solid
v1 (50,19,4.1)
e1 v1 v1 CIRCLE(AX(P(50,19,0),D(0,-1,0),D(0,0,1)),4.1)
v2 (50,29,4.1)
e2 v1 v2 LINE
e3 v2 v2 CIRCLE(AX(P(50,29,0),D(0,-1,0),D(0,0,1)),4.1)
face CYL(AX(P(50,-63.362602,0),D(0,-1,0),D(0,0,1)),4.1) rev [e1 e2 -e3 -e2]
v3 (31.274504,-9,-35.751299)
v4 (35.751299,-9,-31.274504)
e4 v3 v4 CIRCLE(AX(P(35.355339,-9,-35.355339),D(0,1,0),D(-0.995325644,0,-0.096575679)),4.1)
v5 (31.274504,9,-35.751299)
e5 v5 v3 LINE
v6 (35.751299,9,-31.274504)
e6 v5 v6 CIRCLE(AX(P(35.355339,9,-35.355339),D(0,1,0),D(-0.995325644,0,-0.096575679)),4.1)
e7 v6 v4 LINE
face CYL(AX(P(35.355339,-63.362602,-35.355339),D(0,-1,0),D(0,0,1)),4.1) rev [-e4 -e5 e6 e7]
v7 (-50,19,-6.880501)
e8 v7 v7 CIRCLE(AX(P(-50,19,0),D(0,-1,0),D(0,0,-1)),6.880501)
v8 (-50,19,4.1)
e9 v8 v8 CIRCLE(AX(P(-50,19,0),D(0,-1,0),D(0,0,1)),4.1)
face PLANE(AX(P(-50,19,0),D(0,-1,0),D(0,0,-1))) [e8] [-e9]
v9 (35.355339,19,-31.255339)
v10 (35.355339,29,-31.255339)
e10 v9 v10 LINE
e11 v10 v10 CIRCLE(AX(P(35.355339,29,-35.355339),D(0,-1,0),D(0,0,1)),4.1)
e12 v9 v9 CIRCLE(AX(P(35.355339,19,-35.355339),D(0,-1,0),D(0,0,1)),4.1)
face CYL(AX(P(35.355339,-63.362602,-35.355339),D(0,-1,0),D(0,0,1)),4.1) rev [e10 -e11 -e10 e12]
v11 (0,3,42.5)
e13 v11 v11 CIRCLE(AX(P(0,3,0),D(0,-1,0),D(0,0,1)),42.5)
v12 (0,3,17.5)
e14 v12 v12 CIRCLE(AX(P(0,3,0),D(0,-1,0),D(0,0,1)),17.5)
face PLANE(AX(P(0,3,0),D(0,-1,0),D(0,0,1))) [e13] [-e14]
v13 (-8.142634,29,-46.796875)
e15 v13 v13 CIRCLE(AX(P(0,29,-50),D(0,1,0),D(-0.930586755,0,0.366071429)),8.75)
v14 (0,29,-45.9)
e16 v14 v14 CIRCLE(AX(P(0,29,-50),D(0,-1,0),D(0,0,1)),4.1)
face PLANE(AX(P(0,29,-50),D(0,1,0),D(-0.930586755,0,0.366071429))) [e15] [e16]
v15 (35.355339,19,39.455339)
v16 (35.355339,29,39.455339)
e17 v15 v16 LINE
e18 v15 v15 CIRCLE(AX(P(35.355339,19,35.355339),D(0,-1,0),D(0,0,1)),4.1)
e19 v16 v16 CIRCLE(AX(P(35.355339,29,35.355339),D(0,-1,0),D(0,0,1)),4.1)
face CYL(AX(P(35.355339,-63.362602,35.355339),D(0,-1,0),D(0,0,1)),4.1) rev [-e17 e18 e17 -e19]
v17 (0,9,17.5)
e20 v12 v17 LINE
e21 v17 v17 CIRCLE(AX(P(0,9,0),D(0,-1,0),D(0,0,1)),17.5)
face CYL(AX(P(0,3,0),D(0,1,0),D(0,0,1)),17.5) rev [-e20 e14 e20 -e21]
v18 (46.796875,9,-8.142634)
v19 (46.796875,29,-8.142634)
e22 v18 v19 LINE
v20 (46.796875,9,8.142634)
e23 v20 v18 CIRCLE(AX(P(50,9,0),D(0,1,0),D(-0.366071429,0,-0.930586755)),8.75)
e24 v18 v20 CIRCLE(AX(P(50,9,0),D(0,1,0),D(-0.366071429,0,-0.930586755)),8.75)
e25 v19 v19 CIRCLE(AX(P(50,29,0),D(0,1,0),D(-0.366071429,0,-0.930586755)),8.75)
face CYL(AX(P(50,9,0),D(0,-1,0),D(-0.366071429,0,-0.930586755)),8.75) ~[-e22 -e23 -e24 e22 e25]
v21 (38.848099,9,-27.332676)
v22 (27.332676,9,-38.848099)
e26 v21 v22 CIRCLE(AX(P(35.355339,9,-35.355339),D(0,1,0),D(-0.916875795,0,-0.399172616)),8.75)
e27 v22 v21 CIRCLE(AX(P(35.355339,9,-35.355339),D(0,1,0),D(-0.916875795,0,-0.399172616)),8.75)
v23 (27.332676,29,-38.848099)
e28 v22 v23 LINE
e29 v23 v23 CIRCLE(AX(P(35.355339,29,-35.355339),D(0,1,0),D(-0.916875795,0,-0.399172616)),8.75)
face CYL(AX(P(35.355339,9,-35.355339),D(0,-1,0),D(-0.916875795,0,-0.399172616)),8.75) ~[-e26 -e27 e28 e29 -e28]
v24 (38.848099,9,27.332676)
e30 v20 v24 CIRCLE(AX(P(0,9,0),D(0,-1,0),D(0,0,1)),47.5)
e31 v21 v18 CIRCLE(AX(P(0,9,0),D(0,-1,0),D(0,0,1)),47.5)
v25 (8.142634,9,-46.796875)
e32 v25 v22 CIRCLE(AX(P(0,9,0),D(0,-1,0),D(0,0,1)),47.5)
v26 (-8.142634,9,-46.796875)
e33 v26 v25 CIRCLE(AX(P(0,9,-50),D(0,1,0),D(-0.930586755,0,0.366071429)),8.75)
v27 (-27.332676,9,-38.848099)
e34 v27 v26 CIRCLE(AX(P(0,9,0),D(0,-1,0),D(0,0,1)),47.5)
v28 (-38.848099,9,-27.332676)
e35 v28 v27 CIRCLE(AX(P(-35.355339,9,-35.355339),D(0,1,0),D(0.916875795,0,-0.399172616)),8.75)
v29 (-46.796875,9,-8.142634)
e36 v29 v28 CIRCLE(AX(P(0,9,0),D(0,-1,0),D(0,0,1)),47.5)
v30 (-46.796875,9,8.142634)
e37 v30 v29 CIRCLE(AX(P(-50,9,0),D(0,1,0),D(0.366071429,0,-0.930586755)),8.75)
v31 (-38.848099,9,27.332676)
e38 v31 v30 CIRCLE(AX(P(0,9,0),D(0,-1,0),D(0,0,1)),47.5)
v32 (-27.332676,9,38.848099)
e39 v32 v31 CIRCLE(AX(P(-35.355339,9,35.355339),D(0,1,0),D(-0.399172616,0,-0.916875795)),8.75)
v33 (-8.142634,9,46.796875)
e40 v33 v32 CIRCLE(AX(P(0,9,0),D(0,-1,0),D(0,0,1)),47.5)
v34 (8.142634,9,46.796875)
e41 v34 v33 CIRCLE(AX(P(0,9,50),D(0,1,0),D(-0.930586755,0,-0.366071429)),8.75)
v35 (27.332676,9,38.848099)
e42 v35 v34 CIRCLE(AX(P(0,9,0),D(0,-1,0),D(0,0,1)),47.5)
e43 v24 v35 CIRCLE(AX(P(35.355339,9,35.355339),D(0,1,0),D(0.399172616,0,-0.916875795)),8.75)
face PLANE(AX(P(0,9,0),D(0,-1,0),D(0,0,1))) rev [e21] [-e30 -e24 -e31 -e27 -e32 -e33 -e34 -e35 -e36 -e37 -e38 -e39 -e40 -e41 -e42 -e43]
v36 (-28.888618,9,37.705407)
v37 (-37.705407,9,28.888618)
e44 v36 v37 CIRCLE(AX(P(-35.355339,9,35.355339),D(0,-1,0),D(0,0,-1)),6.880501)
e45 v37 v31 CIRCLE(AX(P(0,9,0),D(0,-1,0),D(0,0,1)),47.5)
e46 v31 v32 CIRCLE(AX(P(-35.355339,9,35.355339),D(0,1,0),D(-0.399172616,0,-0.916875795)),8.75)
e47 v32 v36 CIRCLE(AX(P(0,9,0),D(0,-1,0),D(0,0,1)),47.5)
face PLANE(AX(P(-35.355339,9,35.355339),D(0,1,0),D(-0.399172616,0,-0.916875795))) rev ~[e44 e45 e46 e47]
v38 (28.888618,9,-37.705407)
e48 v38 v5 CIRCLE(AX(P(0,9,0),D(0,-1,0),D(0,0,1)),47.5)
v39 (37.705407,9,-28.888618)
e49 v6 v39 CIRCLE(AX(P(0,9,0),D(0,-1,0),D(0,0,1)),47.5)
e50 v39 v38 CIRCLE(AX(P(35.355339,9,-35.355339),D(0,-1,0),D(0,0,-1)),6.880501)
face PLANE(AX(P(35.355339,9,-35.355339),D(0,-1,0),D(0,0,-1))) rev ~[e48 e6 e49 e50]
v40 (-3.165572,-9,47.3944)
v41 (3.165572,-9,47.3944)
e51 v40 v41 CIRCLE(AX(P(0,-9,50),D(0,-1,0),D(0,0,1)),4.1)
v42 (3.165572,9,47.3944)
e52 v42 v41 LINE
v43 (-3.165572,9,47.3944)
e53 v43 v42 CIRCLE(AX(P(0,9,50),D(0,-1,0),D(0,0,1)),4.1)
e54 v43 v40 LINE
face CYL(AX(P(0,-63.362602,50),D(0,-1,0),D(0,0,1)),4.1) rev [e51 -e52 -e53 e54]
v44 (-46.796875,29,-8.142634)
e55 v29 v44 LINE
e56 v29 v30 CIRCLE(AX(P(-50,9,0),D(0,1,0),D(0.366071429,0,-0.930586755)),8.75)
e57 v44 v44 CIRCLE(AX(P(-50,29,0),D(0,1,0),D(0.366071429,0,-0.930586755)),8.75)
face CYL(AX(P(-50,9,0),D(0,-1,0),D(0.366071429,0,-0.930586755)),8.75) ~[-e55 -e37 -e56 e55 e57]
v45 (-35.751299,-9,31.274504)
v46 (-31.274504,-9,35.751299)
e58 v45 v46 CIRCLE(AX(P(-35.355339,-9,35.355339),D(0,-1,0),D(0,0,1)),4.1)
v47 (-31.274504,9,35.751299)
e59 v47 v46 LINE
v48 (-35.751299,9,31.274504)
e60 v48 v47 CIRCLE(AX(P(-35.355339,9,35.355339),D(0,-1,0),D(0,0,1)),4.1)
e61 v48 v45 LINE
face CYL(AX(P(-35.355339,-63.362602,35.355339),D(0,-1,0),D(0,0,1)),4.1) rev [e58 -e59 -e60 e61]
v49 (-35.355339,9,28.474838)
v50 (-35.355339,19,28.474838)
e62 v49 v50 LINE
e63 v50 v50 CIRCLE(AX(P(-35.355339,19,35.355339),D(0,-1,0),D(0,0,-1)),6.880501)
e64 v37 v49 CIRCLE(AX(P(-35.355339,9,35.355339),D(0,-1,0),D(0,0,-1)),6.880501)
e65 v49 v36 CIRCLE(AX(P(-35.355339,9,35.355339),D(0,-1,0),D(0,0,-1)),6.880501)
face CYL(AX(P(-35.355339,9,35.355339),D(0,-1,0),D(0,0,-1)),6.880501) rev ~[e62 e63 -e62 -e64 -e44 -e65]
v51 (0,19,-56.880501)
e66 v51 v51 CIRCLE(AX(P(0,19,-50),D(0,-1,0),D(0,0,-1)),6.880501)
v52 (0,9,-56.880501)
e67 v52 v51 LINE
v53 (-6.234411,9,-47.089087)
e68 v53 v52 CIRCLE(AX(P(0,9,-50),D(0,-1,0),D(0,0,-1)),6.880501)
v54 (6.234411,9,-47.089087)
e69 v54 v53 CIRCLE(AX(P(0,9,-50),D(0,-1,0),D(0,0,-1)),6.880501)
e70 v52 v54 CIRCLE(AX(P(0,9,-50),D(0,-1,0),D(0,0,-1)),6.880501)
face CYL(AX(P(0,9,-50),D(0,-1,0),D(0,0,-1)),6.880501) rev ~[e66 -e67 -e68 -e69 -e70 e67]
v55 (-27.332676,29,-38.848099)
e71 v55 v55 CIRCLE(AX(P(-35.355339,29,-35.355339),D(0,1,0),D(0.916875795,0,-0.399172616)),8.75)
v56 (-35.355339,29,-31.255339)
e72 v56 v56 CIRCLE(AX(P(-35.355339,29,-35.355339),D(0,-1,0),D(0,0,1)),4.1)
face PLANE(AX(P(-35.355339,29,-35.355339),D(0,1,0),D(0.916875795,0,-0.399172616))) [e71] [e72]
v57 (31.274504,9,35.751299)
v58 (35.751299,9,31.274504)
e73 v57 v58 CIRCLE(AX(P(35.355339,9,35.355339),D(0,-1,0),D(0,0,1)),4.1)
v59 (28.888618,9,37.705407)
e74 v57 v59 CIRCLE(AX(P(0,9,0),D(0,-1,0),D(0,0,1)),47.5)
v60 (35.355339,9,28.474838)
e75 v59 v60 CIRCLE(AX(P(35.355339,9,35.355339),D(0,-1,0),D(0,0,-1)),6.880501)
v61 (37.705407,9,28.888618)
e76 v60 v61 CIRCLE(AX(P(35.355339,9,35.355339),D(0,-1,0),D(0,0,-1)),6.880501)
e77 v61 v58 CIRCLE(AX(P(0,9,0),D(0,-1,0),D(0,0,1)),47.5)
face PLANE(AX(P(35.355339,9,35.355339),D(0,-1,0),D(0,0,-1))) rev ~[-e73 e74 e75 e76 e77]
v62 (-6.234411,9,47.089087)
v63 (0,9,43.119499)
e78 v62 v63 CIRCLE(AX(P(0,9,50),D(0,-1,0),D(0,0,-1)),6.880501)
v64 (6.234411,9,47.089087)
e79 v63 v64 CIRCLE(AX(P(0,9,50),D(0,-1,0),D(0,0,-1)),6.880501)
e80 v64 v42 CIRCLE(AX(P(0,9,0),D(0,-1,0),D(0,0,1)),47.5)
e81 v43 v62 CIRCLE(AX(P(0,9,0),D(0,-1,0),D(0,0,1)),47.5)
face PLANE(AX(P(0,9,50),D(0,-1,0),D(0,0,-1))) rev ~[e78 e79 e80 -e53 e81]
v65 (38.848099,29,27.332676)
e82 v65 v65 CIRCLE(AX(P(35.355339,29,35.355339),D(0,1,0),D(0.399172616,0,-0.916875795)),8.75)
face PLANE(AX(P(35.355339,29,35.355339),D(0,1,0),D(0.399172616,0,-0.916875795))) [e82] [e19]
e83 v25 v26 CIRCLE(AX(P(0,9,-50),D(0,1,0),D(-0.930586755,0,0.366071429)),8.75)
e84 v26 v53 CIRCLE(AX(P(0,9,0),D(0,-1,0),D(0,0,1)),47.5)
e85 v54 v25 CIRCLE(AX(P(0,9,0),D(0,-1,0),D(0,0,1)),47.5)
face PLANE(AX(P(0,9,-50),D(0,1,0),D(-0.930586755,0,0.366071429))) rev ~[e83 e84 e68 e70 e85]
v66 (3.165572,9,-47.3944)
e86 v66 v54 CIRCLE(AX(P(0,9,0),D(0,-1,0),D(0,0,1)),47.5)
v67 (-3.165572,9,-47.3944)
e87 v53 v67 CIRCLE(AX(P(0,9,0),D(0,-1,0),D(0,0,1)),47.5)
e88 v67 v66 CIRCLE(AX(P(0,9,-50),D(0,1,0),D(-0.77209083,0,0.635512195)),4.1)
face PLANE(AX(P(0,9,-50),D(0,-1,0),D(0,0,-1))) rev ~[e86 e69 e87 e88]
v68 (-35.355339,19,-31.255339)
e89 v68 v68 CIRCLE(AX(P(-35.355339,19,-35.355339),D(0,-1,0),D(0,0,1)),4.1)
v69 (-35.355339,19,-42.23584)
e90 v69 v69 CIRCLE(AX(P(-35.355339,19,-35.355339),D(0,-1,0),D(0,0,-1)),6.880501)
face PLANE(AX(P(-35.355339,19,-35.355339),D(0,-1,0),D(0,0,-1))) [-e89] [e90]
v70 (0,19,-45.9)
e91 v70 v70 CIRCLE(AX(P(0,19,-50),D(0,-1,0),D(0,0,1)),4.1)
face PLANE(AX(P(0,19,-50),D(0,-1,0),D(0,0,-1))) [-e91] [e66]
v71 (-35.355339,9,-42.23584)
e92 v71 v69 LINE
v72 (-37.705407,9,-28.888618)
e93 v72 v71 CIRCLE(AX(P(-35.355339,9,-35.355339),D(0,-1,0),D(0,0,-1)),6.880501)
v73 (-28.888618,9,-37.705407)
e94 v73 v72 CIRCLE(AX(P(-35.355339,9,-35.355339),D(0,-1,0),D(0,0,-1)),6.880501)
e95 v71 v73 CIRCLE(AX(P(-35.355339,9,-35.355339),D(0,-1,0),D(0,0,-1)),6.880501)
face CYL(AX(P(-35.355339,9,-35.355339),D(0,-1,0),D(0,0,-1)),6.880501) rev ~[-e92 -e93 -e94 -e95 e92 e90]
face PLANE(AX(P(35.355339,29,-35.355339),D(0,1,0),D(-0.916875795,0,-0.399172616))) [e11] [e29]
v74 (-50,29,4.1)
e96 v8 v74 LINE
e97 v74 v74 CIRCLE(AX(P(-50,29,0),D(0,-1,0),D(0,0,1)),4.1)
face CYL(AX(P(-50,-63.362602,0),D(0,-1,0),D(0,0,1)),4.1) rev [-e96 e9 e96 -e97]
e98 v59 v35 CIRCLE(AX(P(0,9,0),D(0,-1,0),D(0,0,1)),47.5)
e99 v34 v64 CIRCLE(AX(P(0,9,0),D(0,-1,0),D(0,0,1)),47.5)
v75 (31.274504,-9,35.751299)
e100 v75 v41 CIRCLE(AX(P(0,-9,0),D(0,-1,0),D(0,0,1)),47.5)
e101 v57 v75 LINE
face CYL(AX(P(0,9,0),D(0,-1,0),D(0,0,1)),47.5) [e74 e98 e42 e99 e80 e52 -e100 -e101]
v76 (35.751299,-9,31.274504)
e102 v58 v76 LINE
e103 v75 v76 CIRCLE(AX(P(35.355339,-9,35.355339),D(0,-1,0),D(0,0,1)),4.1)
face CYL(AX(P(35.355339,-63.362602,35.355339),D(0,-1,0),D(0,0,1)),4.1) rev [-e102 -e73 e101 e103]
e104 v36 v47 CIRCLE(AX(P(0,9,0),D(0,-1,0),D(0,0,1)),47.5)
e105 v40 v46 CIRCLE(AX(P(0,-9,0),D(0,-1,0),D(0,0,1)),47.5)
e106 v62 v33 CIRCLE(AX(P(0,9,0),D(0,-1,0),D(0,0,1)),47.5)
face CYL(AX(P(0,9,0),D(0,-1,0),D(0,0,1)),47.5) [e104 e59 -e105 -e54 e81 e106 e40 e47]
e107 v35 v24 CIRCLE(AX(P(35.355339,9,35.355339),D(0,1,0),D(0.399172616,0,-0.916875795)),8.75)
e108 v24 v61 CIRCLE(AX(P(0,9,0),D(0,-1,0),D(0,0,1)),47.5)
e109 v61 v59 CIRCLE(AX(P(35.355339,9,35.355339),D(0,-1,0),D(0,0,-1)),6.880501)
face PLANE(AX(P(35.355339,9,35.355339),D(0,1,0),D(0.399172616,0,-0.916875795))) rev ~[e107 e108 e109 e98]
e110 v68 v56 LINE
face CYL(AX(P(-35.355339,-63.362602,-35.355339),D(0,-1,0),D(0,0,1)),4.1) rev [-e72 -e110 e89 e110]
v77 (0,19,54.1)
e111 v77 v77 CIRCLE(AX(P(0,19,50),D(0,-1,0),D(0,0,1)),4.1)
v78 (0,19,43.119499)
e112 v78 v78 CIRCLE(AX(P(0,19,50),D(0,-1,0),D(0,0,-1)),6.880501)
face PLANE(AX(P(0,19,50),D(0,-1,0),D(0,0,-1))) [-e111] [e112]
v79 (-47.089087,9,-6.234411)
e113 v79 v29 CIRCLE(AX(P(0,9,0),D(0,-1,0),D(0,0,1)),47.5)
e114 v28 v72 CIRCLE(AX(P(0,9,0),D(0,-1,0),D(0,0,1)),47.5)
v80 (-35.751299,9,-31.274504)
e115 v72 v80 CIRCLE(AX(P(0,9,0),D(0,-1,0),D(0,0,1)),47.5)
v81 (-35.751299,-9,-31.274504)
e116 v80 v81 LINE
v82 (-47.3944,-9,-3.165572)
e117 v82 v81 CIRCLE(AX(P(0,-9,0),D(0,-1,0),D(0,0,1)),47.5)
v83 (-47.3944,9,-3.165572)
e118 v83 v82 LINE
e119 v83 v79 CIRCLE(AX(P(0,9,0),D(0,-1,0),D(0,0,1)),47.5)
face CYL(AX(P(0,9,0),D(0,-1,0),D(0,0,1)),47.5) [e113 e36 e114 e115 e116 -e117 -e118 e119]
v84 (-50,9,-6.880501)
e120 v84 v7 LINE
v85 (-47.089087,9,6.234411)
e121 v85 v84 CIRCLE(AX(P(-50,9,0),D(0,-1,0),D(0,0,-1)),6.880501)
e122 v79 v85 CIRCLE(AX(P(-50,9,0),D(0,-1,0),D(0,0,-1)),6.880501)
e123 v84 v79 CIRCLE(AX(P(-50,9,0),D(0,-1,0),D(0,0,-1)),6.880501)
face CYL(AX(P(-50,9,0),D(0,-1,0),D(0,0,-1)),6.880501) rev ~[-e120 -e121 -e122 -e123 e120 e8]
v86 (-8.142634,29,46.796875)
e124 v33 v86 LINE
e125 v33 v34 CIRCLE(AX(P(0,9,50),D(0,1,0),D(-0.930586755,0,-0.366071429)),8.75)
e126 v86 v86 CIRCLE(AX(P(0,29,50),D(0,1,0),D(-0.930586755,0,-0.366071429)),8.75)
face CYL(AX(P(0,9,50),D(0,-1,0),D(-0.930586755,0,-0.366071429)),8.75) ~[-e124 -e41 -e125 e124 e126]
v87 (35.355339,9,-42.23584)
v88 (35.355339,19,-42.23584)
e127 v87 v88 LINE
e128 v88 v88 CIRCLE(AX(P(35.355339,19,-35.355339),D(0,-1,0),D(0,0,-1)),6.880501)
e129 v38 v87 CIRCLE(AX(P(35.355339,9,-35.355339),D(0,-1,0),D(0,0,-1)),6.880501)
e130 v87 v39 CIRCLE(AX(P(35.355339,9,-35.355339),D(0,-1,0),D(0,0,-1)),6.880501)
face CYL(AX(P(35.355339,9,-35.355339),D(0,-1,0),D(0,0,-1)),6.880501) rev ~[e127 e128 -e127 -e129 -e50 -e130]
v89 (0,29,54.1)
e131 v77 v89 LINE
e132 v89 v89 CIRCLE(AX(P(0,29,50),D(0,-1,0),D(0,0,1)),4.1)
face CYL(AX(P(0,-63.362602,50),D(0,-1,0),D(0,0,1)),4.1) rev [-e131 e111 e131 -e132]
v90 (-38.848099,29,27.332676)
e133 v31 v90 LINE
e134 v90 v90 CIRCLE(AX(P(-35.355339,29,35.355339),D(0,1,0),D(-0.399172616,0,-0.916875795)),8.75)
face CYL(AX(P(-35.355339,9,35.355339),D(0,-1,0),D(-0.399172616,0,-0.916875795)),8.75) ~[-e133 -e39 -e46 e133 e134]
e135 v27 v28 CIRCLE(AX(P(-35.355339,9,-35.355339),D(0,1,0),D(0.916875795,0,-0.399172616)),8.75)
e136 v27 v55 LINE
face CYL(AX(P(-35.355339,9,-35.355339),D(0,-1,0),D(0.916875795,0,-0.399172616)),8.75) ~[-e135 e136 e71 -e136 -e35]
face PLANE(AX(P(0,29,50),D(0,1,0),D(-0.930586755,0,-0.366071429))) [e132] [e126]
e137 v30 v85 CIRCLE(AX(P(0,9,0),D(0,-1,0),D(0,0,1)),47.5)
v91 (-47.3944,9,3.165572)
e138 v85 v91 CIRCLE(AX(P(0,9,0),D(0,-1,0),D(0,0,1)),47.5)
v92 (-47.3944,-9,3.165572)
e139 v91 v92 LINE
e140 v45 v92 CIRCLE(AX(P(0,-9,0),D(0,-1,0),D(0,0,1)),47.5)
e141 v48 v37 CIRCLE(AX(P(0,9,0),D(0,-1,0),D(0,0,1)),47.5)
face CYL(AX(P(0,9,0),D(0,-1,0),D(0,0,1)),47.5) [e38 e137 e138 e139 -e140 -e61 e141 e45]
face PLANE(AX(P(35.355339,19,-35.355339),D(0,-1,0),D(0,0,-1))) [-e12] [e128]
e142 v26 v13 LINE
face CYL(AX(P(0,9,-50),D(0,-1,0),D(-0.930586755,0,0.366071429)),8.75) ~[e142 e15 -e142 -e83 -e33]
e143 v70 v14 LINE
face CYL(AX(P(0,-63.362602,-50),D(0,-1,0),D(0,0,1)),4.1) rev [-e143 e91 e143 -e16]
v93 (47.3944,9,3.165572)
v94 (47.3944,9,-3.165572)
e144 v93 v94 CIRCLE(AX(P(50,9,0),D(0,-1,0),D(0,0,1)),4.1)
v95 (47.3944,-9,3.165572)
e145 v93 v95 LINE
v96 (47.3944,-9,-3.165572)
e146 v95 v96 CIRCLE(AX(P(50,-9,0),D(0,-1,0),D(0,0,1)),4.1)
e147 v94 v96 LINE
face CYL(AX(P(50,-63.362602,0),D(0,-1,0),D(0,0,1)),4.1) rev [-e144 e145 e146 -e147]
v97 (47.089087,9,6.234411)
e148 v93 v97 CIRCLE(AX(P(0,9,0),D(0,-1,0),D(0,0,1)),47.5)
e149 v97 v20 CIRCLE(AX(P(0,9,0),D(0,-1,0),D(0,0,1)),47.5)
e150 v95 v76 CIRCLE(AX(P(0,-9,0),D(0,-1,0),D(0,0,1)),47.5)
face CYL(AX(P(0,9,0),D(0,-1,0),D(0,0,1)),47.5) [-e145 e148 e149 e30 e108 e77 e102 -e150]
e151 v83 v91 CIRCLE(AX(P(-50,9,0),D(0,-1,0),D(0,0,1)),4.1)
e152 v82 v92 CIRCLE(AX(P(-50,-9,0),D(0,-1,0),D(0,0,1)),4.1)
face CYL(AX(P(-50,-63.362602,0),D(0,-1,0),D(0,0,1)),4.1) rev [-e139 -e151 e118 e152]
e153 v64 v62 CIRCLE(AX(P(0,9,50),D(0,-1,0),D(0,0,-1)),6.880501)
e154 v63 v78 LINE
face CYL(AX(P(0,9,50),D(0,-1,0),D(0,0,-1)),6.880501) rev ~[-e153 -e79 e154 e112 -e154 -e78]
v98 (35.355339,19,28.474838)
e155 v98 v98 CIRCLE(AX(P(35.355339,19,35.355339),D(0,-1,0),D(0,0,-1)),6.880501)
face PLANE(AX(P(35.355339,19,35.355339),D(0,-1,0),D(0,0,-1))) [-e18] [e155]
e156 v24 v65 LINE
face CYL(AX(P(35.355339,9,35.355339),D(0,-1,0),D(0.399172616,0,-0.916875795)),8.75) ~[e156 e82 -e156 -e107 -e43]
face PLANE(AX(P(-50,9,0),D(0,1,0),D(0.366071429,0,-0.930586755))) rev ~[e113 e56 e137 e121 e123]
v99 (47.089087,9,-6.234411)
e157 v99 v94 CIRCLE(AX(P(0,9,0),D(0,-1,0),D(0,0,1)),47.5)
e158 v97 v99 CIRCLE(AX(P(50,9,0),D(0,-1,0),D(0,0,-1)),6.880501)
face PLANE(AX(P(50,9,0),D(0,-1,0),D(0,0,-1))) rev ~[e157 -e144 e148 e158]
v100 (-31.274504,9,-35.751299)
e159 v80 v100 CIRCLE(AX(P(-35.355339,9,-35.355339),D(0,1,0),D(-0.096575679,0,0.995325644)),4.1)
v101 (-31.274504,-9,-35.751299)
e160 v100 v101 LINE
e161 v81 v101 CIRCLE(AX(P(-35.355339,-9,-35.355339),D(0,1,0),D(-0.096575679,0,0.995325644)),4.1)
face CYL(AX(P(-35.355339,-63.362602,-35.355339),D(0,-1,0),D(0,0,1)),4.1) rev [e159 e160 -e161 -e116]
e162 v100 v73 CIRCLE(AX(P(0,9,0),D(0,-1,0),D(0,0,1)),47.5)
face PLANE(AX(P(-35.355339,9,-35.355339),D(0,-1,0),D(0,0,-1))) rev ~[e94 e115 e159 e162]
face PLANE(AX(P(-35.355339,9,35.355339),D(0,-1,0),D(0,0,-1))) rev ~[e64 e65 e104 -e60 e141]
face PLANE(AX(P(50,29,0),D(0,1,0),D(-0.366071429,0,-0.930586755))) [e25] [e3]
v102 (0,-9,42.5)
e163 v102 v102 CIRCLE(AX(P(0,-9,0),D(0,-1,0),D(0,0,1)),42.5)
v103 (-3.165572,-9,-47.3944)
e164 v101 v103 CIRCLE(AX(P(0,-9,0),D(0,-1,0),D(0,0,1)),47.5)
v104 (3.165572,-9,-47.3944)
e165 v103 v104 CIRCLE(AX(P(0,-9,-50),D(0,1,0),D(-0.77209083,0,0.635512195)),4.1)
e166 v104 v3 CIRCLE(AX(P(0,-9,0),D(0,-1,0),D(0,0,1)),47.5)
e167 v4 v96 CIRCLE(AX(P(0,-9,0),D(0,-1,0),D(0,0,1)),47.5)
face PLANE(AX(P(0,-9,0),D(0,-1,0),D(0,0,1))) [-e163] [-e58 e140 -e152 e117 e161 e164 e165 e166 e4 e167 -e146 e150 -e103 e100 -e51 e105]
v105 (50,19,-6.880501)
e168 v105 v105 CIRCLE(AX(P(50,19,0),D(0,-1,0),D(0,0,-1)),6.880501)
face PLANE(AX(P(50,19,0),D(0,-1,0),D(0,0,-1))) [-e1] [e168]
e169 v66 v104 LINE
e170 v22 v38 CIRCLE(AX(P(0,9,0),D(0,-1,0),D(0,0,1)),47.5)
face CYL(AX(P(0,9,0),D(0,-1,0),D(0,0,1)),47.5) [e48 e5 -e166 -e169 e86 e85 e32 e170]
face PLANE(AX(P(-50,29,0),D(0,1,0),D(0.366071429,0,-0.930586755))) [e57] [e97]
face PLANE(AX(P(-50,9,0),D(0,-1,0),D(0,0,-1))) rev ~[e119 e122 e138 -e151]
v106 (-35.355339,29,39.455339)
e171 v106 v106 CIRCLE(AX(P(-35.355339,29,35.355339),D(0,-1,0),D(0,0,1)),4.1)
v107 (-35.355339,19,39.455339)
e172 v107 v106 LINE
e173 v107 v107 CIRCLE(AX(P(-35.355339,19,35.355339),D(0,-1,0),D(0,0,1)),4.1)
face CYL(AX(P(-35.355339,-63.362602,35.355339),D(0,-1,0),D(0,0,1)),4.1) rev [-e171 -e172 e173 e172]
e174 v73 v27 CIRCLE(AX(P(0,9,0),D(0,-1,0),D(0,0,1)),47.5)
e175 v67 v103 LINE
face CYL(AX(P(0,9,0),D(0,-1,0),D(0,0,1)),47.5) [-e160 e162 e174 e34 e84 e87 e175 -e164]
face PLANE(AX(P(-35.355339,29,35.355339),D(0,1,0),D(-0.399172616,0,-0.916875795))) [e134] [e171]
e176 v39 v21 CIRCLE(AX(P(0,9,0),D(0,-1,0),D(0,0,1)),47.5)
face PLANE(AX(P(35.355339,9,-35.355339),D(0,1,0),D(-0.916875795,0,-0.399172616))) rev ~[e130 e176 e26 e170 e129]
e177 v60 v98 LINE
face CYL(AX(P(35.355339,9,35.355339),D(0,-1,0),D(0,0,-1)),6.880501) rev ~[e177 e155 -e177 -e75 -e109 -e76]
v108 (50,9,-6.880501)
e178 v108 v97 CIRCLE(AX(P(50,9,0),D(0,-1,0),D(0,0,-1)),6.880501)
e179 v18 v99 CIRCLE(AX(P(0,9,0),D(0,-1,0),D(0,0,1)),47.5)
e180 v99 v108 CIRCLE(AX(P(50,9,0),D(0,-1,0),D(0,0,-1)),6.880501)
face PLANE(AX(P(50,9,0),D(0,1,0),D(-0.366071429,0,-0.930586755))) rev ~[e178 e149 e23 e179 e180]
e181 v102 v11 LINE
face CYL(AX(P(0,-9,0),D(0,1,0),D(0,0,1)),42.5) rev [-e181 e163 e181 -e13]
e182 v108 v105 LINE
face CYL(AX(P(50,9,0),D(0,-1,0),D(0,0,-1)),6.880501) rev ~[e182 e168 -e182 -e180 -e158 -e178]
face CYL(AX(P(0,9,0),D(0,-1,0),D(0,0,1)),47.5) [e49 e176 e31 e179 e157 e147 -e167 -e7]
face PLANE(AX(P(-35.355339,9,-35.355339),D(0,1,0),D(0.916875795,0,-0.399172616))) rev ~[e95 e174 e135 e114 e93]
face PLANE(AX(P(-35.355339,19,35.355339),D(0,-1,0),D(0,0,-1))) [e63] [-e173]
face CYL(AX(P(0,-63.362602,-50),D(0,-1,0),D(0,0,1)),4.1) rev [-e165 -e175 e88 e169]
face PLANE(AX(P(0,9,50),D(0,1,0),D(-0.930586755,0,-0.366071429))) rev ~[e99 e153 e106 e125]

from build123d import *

# Parameters (mm, degrees)
SKETCH3_R               = 8.75
BOSS_EXTRUDE1_DEPTH     = 20
CUT_EXTRUDE1_DEPTH      = 92.362601758
CUT_EXTRUDE1_DEPTH_BACK = 92.362601758
SKETCH4_R               = 4.1
SKETCH5_R               = 6.880501159
CUT_EXTRUDE2_DEPTH      = 10


with BuildPart() as part:
    # Sketch2 → Revolve1 (revolve)
    with BuildSketch(Plane(origin=(0, 0, 0), x_dir=(0, 0, -1), z_dir=(1, 0, 0))):
        Polygon((-47.5, 9), (-47.5, -9), (-42.5, -9), (-42.5, 3), (-17.5, 3), (-17.5, 9), align=None)
    revolve(axis=Axis((0, 40.533381554, 0), (0, -1, 0)))

    # Sketch3 → Boss-Extrude1 (add)
    with BuildSketch(Plane(origin=(0, 9, 0), x_dir=(1, 0, 0), z_dir=(0, 1, 0))):
        with Locations(Location((0, 50, 0), (0, 0, 201.473535129))):
            Circle(SKETCH3_R)
        with Locations(Location((35.355339059, 35.355339059, 0), (0, 0, 156.473535129))):
            Circle(SKETCH3_R)
        with Locations(Location((50, 0, 0), (0, 0, 111.473535129))):
            Circle(SKETCH3_R)
        with Locations(Location((35.355339059, -35.355339059, 0), (0, 0, 66.473535129))):
            Circle(SKETCH3_R)
        with Locations(Location((0, -50, 0), (0, 0, 158.526464871))):
            Circle(SKETCH3_R)
        with Locations(Location((-35.355339059, -35.355339059, 0), (0, 0, 113.526464871))):
            Circle(SKETCH3_R)
        with Locations(Location((-50, 0, 0), (0, 0, 68.526464871))):
            Circle(SKETCH3_R)
        with Locations(Location((-35.355339059, 35.355339059, 0), (0, 0, 23.526464871))):
            Circle(SKETCH3_R)
    extrude(amount=BOSS_EXTRUDE1_DEPTH)

    # Sketch4 → Cut-Extrude1 (cut, two sides: drawn at the far end of the back side and taken through both)
    with BuildSketch(Plane(origin=(0, 29, 0), x_dir=(1, 0, 0), z_dir=(0, 1, 0)).offset(-CUT_EXTRUDE1_DEPTH_BACK)):
        with Locations(Location((0, 50, 0), (0, 0, 270))):
            Circle(SKETCH4_R)
        with Locations(Location((35.355339059, 35.355339059, 0), (0, 0, 270))):
            Circle(SKETCH4_R)
        with Locations(Location((50, 0, 0), (0, 0, 270))):
            Circle(SKETCH4_R)
        with Locations(Location((35.355339059, -35.355339059, 0), (0, 0, 270))):
            Circle(SKETCH4_R)
        with Locations(Location((0, -50, 0), (0, 0, 270))):
            Circle(SKETCH4_R)
        with Locations(Location((-35.355339059, -35.355339059, 0), (0, 0, 270))):
            Circle(SKETCH4_R)
        with Locations(Location((-50, 0, 0), (0, 0, 270))):
            Circle(SKETCH4_R)
        with Locations(Location((-35.355339059, 35.355339059, 0), (0, 0, 270))):
            Circle(SKETCH4_R)
    extrude(amount=CUT_EXTRUDE1_DEPTH + CUT_EXTRUDE1_DEPTH_BACK, mode=Mode.SUBTRACT)

    # Sketch5 → Cut-Extrude2 (cut)
    with BuildSketch(Plane.XZ.offset(-9)):
        with Locations(Location((35.355339059, 35.355339059, 0), (0, 0, 270))):
            Circle(SKETCH5_R)
        with Locations(Location((-35.355339059, 35.355339059, 0), (0, 0, 270))):
            Circle(SKETCH5_R)
        with Locations(Location((-50, 0, 0), (0, 0, 270))):
            Circle(SKETCH5_R)
        with Locations(Location((-35.355339059, -35.355339059, 0), (0, 0, 270))):
            Circle(SKETCH5_R)
        with Locations(Location((0, -50, 0), (0, 0, 270))):
            Circle(SKETCH5_R)
        with Locations(Location((35.355339059, -35.355339059, 0), (0, 0, 270))):
            Circle(SKETCH5_R)
        with Locations(Location((50, 0, 0), (0, 0, 270))):
            Circle(SKETCH5_R)
        with Locations(Location((0, 50, 0), (0, 0, 270))):
            Circle(SKETCH5_R)
    extrude(amount=-CUT_EXTRUDE2_DEPTH, mode=Mode.SUBTRACT)


solid = part.part
